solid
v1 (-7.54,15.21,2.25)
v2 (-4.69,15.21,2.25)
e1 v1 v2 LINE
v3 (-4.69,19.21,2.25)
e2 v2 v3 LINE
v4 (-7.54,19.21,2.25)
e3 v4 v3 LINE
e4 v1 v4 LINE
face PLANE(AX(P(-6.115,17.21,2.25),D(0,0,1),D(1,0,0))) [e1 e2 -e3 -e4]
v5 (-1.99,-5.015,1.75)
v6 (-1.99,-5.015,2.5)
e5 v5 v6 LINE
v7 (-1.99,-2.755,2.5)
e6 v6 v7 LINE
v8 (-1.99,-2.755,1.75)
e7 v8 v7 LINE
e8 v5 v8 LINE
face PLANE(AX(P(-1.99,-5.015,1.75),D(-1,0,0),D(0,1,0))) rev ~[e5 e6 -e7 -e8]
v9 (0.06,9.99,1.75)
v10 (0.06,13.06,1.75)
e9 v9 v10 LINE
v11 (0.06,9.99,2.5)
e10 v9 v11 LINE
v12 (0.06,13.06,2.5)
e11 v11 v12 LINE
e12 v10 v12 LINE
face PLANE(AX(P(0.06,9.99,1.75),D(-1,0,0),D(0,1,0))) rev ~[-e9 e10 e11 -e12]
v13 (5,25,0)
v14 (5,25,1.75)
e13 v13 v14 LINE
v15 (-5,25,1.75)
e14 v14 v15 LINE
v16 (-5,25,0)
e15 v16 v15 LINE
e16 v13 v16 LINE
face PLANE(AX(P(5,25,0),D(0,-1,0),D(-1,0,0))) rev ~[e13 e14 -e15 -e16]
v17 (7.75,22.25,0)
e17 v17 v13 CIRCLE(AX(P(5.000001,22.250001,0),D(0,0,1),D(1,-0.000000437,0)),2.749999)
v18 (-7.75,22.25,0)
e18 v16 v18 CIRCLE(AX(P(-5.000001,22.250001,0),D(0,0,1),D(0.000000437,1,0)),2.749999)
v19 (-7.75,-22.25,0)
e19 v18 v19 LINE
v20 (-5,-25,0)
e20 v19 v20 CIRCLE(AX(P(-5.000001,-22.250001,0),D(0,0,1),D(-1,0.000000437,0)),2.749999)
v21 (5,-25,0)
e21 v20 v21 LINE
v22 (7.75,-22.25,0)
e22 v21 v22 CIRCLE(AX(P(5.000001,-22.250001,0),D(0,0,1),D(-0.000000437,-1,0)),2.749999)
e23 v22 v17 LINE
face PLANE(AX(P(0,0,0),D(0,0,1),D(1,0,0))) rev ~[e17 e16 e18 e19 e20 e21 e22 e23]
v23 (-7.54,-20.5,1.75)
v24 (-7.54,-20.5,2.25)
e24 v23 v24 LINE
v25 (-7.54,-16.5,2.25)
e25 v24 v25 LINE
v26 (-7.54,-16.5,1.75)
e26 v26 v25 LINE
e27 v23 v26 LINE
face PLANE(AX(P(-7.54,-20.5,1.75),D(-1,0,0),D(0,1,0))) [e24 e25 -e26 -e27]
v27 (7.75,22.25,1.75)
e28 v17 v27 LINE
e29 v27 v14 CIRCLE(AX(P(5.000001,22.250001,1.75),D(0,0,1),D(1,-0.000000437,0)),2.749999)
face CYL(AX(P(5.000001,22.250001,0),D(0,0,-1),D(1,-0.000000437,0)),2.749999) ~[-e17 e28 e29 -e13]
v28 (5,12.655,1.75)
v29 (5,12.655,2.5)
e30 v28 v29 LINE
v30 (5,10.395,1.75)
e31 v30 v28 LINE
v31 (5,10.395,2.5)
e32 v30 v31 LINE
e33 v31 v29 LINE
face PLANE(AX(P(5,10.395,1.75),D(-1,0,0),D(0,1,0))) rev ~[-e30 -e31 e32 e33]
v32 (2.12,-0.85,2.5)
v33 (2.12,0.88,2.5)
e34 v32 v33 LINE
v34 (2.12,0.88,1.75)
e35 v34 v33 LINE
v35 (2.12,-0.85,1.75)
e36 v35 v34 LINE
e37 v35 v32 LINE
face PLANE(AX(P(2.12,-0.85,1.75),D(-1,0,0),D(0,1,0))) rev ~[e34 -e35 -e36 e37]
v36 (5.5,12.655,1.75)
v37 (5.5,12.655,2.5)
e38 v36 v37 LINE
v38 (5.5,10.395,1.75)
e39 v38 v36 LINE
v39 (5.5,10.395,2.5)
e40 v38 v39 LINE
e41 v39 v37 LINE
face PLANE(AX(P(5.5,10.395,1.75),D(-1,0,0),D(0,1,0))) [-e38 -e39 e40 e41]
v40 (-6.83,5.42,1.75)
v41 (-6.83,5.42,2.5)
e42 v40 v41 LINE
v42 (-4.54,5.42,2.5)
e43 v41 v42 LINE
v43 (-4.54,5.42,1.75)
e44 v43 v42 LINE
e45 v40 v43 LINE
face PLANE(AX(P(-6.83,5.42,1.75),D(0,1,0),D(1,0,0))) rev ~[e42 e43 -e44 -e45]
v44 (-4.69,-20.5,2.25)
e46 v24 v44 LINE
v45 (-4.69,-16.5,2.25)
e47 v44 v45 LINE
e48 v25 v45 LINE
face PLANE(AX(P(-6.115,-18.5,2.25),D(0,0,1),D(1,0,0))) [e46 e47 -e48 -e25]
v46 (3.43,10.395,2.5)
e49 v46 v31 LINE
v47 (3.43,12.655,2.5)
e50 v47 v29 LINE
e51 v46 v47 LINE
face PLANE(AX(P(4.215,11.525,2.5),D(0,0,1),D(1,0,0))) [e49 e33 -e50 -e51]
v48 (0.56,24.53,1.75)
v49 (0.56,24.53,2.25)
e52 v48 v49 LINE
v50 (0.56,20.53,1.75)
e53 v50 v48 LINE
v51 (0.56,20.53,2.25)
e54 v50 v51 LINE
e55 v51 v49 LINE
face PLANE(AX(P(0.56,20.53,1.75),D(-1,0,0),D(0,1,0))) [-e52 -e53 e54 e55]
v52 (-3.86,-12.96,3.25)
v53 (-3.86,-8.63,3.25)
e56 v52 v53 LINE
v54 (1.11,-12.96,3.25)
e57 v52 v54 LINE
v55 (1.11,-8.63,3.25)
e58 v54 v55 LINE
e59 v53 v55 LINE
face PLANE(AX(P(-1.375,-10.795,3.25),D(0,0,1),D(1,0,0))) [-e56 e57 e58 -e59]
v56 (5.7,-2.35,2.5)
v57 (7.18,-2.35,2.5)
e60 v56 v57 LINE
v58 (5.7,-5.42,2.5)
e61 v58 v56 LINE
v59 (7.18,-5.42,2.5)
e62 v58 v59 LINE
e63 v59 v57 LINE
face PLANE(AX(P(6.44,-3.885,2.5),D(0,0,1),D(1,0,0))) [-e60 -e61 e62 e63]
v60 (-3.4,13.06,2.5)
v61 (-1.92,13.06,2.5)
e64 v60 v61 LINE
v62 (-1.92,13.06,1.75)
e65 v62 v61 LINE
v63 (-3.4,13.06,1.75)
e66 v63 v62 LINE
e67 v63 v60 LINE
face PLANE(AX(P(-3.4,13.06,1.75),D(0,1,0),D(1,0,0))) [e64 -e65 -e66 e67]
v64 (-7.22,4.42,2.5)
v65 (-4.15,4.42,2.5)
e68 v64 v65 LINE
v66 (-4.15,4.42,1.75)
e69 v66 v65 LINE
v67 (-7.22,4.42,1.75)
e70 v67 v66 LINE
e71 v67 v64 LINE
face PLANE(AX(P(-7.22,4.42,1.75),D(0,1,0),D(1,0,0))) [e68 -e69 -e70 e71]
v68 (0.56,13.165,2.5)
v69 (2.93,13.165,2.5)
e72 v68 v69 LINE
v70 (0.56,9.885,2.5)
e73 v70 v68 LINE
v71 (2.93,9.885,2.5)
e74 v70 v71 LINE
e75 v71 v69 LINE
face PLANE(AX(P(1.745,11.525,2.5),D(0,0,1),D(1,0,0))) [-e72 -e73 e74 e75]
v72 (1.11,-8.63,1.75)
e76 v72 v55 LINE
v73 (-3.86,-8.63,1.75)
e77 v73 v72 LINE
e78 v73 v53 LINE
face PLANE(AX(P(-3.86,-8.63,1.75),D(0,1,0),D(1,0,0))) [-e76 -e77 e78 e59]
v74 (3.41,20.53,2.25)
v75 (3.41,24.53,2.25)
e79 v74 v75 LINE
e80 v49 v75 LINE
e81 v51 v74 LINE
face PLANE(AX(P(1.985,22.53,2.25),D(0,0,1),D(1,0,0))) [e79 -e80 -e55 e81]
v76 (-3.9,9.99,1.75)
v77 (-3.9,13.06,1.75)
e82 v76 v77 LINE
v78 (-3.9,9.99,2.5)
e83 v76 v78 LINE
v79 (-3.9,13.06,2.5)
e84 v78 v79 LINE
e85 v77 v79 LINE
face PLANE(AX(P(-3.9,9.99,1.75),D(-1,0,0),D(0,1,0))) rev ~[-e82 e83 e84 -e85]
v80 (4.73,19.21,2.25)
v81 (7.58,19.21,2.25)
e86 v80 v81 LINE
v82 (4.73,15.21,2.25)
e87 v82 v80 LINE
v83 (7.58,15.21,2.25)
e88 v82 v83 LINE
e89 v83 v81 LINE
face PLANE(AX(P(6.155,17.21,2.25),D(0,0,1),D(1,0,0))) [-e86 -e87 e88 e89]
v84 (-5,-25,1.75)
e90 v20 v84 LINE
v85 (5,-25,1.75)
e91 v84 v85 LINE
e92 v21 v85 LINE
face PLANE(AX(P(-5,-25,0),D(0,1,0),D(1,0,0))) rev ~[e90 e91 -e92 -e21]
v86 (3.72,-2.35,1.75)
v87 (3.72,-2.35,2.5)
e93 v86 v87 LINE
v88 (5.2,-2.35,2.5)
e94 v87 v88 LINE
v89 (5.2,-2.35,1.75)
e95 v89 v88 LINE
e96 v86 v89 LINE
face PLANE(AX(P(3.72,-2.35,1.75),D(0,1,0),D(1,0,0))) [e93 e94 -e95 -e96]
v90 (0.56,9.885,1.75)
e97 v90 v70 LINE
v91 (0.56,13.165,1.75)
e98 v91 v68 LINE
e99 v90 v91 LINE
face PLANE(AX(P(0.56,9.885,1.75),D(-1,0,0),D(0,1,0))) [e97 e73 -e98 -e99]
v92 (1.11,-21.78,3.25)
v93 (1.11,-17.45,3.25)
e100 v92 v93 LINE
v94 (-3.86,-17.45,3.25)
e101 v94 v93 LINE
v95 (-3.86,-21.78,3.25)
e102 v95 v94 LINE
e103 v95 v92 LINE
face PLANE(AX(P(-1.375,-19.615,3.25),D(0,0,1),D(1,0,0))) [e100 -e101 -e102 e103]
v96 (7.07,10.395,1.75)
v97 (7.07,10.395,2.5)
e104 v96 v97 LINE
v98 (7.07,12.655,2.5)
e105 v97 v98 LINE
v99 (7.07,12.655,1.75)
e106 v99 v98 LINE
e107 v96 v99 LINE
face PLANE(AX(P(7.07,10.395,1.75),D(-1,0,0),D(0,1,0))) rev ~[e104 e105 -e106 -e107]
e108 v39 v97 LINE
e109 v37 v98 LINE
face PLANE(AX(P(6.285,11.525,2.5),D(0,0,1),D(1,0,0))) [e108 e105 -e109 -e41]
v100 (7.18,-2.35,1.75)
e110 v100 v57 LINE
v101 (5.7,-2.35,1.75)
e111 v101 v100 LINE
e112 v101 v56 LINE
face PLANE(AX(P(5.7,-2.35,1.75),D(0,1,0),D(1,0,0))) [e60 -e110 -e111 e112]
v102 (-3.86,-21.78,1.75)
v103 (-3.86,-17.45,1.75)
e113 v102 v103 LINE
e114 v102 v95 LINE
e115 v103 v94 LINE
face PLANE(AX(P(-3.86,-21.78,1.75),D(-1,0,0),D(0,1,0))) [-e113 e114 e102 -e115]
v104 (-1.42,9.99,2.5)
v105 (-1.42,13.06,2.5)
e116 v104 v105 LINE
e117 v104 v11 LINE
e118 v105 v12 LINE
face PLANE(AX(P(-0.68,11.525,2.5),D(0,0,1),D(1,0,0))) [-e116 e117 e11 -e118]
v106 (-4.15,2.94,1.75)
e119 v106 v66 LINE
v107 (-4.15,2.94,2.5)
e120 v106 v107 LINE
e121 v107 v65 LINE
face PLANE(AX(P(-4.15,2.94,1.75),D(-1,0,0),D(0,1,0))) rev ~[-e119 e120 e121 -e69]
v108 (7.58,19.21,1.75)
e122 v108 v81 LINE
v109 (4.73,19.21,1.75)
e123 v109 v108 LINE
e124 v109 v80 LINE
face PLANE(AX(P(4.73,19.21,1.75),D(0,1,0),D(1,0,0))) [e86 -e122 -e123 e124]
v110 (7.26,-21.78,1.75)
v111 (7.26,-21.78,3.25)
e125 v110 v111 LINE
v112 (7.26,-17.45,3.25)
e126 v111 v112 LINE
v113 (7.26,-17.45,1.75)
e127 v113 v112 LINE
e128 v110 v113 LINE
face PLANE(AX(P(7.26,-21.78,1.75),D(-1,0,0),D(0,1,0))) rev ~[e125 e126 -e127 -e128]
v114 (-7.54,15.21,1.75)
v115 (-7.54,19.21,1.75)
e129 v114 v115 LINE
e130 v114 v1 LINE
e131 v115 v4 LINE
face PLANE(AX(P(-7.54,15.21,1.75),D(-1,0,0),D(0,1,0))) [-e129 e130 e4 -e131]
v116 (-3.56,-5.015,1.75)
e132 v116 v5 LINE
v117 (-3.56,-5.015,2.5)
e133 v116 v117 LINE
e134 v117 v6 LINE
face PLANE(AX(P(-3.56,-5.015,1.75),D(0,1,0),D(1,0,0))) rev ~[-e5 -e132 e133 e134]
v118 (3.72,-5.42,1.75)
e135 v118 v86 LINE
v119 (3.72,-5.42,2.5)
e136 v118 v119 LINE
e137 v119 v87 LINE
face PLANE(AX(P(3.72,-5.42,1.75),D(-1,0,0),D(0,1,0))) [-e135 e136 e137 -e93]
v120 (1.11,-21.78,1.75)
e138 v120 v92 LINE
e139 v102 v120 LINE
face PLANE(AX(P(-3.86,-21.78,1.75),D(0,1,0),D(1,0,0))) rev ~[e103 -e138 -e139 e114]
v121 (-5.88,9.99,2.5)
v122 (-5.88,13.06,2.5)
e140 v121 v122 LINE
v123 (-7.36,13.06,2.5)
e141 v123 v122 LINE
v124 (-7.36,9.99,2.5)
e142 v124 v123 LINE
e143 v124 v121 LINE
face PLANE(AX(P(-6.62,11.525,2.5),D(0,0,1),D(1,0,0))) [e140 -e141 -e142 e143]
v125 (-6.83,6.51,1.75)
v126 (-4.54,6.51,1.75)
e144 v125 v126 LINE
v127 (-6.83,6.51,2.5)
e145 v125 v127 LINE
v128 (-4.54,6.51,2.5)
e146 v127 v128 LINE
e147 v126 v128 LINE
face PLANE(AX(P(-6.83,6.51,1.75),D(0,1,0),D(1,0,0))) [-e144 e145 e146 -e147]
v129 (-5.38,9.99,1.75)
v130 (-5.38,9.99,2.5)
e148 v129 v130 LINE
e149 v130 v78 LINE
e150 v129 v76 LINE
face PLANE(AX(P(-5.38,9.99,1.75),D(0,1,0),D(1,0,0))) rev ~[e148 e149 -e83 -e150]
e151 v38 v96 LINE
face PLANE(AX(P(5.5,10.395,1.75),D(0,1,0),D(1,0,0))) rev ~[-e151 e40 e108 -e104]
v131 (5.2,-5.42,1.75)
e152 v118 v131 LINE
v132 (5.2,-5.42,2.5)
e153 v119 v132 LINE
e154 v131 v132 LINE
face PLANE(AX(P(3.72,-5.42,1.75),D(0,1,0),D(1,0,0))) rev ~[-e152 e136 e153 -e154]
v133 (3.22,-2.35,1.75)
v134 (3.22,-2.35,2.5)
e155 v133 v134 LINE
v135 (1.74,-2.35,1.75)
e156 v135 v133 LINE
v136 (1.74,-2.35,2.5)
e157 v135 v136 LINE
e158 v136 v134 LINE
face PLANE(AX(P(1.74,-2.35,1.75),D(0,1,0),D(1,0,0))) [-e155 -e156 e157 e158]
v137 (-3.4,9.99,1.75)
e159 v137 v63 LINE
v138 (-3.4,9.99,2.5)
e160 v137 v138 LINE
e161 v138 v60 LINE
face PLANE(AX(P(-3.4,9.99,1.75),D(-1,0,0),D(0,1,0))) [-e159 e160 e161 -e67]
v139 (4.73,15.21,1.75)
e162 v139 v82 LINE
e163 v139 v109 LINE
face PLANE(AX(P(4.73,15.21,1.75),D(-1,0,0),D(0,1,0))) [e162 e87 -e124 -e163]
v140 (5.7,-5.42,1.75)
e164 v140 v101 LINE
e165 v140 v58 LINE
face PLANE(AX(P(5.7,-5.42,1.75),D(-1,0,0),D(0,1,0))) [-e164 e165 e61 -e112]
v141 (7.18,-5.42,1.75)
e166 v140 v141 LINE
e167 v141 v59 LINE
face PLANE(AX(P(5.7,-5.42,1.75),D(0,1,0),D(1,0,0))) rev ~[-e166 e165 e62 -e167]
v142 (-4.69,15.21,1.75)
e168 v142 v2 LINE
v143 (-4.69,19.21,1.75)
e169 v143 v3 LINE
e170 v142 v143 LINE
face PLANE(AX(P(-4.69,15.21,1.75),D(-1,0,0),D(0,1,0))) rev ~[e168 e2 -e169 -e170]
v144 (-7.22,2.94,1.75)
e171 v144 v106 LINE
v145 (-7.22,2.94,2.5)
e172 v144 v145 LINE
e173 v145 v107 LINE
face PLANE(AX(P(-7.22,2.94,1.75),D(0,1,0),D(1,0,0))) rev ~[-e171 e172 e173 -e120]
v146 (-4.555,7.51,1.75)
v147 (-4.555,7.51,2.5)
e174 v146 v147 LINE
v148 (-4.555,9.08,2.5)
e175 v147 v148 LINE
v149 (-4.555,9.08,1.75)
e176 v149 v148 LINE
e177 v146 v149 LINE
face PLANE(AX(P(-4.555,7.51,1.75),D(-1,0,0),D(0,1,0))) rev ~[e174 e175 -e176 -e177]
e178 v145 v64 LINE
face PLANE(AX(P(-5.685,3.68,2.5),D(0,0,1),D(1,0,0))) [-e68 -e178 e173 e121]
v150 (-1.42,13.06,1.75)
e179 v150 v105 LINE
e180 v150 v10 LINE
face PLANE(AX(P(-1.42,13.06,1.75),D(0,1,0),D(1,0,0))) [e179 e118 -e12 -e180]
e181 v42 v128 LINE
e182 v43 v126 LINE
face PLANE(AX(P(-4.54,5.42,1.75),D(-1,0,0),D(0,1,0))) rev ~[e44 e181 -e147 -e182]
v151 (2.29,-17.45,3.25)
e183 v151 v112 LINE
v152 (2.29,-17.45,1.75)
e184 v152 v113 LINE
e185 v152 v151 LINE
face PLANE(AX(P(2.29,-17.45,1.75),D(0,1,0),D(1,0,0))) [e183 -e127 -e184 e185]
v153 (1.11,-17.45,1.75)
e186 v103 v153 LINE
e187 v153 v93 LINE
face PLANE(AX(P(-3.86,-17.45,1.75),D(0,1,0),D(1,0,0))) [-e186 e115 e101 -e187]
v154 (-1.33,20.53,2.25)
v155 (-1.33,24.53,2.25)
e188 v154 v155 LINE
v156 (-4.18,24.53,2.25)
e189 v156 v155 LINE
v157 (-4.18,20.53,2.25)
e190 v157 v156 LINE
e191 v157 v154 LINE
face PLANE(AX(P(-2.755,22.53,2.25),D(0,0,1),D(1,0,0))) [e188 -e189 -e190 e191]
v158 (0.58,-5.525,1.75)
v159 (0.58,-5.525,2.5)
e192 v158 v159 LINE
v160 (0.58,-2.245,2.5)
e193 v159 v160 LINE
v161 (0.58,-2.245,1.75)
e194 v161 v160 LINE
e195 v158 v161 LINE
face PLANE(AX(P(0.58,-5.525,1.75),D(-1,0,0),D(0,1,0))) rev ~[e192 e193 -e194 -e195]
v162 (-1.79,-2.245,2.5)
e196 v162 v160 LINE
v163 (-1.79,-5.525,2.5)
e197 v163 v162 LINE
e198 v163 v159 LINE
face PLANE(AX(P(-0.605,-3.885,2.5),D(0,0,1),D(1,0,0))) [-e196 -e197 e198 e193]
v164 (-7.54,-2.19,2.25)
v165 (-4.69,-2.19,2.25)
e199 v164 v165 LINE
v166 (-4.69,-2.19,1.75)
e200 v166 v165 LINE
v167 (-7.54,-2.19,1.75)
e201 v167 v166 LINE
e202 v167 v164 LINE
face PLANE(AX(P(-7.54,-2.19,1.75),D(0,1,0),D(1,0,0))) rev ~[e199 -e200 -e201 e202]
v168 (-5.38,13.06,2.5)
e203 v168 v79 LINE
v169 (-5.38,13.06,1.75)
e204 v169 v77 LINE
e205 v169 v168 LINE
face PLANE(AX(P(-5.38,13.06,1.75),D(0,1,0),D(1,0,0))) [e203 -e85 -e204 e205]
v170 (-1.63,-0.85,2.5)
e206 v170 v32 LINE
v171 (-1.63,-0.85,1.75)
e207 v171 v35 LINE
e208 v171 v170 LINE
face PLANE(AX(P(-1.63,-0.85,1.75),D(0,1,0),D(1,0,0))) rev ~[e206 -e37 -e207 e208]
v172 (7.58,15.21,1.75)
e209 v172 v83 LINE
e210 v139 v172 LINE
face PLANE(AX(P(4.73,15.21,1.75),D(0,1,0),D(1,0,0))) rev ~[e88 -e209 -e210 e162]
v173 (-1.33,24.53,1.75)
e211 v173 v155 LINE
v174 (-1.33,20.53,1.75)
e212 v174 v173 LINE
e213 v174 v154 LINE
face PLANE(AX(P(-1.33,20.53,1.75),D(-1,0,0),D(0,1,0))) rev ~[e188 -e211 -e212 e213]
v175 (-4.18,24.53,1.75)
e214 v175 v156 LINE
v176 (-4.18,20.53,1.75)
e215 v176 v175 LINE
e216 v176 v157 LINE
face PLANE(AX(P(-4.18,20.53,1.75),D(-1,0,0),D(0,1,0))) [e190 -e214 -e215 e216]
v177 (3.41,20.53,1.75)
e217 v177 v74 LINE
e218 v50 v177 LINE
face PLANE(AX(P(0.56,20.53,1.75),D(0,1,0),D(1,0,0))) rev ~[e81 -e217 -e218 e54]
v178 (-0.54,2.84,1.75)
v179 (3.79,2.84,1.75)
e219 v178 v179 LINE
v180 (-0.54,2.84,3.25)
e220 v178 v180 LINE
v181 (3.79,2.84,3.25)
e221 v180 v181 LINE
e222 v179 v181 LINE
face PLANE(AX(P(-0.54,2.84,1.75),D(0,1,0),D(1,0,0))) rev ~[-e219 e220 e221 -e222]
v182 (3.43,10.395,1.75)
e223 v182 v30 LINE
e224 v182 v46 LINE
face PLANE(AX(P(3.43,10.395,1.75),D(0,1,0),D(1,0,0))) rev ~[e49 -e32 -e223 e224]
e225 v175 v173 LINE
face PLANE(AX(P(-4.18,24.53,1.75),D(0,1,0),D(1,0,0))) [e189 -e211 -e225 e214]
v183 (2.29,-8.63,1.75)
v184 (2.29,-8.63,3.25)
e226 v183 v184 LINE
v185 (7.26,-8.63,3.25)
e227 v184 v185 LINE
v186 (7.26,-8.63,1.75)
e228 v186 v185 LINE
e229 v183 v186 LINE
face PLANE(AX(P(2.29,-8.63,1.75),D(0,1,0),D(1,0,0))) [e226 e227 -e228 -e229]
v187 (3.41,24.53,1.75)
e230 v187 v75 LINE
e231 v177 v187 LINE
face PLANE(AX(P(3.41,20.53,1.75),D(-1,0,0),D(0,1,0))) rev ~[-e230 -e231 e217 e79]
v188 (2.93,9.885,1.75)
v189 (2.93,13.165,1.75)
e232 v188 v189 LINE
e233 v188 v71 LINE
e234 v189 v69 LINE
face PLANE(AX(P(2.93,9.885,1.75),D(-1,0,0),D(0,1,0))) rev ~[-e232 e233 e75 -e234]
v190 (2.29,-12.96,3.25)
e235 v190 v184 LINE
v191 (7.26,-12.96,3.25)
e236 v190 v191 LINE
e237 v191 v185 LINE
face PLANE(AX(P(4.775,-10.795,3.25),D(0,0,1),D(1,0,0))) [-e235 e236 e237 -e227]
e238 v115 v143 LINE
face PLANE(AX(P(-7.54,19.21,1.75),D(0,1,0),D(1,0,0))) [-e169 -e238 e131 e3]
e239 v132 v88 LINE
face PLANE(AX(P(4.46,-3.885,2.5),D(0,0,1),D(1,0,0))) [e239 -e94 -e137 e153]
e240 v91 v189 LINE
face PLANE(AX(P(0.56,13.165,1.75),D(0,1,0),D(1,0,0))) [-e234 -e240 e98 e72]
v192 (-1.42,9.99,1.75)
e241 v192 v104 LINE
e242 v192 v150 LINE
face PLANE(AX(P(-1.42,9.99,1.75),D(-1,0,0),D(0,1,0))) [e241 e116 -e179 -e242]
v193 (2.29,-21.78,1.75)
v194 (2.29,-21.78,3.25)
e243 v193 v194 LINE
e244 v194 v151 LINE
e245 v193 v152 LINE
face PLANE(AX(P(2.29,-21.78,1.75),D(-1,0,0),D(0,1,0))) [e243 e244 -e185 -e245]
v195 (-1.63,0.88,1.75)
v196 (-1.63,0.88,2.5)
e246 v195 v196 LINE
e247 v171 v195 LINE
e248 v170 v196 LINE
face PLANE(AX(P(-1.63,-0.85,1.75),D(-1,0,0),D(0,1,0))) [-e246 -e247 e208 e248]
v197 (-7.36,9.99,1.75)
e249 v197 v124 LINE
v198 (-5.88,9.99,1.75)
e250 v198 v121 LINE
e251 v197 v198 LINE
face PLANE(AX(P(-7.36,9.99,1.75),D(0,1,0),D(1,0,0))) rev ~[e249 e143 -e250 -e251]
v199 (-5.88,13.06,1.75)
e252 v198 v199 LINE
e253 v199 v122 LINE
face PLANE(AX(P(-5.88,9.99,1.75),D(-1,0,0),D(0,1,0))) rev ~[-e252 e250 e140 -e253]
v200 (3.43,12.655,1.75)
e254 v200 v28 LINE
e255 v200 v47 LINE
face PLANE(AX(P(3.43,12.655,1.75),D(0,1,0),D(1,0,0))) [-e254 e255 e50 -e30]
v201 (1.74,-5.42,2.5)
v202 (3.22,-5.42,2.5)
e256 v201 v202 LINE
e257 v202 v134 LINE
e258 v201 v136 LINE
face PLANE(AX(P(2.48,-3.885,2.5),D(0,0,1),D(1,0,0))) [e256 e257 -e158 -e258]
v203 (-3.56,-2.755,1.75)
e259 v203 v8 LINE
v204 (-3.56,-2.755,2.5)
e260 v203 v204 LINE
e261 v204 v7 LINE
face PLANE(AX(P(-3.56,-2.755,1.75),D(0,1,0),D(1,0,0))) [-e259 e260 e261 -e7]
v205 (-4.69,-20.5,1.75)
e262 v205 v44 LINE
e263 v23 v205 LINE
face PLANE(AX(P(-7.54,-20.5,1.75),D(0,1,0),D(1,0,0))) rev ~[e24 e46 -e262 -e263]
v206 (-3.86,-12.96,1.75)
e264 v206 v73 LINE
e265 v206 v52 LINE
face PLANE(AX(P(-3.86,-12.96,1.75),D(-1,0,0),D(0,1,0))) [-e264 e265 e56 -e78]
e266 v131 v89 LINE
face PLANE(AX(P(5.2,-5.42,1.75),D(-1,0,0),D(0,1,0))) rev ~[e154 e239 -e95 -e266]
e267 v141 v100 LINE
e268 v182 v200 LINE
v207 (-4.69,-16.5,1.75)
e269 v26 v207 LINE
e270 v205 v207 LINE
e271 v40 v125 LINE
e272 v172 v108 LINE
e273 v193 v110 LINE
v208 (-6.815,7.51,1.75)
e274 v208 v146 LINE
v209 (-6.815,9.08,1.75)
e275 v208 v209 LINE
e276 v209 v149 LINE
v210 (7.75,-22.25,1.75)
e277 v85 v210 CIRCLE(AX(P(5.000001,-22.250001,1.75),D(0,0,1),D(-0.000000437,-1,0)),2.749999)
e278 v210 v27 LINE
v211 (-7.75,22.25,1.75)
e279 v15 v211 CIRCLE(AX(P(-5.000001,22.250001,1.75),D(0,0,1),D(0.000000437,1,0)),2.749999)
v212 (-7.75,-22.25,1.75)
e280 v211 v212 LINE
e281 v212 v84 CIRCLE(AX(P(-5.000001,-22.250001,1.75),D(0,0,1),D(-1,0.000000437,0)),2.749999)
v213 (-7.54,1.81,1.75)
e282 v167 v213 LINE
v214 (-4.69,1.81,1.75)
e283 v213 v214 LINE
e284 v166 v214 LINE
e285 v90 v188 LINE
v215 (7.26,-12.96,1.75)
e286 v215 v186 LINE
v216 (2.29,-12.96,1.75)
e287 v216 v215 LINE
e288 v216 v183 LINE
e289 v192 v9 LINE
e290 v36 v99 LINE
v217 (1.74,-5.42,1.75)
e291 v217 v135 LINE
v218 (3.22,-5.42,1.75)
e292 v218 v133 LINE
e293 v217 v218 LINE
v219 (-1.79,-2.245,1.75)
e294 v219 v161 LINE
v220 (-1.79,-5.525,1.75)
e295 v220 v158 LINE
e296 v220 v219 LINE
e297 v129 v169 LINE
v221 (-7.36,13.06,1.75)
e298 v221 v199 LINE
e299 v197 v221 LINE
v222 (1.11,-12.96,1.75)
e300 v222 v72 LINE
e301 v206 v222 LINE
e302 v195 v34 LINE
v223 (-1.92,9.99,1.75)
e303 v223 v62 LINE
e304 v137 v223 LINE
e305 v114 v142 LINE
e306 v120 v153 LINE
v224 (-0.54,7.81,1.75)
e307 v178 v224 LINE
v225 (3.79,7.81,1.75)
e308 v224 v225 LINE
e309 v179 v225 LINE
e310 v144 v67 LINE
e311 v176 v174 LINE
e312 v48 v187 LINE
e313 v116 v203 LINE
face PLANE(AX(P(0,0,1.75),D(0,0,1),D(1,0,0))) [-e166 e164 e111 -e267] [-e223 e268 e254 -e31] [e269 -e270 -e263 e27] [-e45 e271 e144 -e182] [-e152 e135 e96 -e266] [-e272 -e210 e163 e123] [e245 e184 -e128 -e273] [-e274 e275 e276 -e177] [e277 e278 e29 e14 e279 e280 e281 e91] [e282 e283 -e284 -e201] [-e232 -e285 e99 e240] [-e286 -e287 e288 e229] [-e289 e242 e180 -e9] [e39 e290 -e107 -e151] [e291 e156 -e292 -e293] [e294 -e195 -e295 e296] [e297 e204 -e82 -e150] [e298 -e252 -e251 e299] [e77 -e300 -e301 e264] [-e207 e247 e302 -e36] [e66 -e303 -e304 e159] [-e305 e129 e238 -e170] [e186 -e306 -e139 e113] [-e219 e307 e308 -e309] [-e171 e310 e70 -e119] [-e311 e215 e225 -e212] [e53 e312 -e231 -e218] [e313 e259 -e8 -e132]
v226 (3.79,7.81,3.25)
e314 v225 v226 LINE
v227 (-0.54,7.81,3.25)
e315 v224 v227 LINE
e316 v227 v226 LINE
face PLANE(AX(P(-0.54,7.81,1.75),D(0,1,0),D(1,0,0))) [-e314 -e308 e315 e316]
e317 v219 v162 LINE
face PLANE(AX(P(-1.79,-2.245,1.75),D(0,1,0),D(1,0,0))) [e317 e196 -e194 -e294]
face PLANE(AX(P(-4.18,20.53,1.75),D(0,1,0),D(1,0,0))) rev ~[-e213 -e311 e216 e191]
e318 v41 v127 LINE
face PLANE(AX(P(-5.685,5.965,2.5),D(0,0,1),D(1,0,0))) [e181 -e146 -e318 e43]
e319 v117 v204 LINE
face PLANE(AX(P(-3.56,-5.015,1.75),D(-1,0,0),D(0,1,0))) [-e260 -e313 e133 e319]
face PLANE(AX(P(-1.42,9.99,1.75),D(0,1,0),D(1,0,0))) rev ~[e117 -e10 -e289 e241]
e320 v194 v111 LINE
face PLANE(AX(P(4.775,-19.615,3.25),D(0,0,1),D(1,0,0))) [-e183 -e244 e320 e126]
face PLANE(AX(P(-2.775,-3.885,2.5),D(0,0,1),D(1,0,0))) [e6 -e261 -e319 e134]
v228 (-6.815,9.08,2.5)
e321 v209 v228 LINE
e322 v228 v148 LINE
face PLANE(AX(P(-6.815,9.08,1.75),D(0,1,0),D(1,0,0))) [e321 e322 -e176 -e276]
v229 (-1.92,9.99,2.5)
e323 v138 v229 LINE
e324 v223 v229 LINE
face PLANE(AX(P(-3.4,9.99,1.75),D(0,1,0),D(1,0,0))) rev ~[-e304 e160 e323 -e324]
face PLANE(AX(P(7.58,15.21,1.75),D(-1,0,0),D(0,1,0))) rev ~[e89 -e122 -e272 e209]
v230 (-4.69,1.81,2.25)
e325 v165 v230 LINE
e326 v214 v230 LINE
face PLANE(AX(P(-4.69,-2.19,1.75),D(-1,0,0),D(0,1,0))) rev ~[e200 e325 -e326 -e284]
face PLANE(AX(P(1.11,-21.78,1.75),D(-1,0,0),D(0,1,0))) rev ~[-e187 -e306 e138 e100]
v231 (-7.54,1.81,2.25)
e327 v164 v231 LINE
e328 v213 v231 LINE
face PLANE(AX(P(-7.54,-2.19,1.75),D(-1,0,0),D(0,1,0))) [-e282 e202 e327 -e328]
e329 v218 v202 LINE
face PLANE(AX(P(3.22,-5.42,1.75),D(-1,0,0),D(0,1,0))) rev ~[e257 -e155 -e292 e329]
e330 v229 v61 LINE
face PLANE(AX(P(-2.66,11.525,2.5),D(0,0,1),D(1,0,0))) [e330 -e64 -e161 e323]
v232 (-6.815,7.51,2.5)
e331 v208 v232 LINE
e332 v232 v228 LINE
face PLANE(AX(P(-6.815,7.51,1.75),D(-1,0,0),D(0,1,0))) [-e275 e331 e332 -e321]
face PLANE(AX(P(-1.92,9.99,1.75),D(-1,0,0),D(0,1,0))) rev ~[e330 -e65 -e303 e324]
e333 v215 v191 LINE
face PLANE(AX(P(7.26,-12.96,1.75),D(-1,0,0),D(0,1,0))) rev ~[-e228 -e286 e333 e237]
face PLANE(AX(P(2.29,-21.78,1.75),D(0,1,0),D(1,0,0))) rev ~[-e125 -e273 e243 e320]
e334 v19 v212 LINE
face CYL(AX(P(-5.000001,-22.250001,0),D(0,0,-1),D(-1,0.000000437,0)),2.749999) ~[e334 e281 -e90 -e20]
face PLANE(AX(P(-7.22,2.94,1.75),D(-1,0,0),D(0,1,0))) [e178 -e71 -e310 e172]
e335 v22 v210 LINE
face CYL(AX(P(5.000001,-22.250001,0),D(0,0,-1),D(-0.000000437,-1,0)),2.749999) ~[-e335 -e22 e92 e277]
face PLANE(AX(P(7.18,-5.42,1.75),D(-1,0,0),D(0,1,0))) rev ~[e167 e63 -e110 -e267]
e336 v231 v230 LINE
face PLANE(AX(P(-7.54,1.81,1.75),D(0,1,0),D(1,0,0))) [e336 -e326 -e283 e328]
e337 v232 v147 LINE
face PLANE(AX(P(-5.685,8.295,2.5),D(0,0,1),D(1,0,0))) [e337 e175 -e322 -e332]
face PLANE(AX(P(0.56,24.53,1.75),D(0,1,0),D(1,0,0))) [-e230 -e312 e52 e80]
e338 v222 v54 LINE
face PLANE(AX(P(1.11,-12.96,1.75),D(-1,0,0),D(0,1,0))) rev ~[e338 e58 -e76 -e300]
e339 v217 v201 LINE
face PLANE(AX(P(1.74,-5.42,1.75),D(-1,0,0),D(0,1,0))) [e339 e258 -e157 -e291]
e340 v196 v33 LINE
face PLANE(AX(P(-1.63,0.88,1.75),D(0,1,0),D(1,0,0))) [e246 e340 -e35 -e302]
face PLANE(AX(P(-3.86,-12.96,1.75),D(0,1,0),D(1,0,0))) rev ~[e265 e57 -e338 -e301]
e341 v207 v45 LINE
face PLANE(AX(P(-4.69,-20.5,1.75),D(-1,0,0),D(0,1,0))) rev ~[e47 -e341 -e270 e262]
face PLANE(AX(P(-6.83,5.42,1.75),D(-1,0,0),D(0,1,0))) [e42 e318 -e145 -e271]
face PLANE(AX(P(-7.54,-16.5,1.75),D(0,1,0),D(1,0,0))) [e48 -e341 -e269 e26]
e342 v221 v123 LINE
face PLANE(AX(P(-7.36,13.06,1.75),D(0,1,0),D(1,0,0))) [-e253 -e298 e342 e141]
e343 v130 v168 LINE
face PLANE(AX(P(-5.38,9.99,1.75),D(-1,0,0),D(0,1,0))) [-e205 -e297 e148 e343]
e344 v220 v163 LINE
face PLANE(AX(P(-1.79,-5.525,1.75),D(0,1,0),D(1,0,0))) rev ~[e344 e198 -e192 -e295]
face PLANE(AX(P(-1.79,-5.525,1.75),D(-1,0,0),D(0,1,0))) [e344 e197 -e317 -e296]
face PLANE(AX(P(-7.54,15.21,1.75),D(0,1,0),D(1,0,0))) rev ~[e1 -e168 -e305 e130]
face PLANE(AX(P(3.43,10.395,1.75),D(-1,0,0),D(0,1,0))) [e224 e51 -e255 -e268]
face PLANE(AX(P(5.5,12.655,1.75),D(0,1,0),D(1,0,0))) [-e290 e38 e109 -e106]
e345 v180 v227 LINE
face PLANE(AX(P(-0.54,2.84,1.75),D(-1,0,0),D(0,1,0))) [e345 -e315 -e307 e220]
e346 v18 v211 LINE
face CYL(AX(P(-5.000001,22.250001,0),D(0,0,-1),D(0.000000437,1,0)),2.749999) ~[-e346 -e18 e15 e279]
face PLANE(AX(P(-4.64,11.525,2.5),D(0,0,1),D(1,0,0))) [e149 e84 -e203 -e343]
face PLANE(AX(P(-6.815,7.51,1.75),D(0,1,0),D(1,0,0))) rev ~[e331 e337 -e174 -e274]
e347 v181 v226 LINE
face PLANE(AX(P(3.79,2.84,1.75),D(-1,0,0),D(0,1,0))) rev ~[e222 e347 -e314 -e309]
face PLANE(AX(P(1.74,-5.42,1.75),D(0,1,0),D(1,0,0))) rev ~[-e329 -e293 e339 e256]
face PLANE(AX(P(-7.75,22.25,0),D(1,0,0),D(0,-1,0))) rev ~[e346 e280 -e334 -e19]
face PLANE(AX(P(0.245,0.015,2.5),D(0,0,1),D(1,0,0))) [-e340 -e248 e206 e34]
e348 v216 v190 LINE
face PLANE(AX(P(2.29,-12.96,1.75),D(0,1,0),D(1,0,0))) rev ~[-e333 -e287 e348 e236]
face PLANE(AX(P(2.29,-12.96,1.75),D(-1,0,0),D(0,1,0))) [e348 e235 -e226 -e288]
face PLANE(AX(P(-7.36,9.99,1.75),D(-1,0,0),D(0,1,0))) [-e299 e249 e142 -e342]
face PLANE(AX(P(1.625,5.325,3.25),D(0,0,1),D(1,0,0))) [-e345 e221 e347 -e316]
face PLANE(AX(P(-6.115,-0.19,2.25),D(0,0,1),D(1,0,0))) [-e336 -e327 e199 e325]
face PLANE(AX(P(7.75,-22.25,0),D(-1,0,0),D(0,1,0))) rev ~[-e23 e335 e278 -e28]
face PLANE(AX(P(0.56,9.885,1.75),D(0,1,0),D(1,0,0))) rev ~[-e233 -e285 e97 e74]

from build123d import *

# Parameters (mm, degrees)
PAD_DEPTH     = 1.75
SKETCH001_W   = 2.85
SKETCH001_H   = 4
PAD001_DEPTH  = 0.5
SKETCH002_W   = 4.33
SKETCH002_H   = 4.97
SKETCH002_W_2 = 4.97
SKETCH002_H_2 = 4.33
PAD002_DEPTH  = 1.5
SKETCH003_W   = 1.57
SKETCH003_H   = 2.26
SKETCH003_W_2 = 2.37
SKETCH003_H_2 = 3.28
SKETCH003_W_3 = 1.48
SKETCH003_H_3 = 3.07
SKETCH003_W_4 = 2.29
SKETCH003_H_4 = 1.09
SKETCH003_W_5 = 2.26
SKETCH003_H_5 = 1.57
SKETCH003_W_6 = 3.07
SKETCH003_H_6 = 1.48
SKETCH003_W_7 = 3.75
SKETCH003_H_7 = 1.73
PAD003_DEPTH  = 0.75


with BuildPart() as part:
    # Sketch → Pad (new body)
    with BuildSketch(Plane.XY):
        with BuildLine():
            Line((-7.75, 22.25), (-7.75, -22.25))
            ThreePointArc((-7.75, -22.25), (-6.944544, -24.194544), (-5, -25))
            Line((-5, -25), (5, -25))
            ThreePointArc((5, -25), (6.944544, -24.194544), (7.75, -22.25))
            Line((7.75, -22.25), (7.75, 22.25))
            ThreePointArc((7.75, 22.25), (6.944544, 24.194544), (5, 25))
            Line((5, 25), (-5, 25))
            ThreePointArc((-5, 25), (-6.944544, 24.194544), (-7.75, 22.25))
        make_face()
    extrude(amount=PAD_DEPTH)

    # Sketch001 (on Face10 of Pad) → Pad001 (join)
    with BuildSketch(Plane.XY.offset(1.75)):
        with Locations((-6.115, 17.21)):
            Rectangle(SKETCH001_W, SKETCH001_H)
        with Locations((-2.755, 22.53)):
            Rectangle(SKETCH001_W, SKETCH001_H)
        with Locations((1.985, 22.53)):
            Rectangle(SKETCH001_W, SKETCH001_H)
        with Locations((6.155, 17.21)):
            Rectangle(SKETCH001_W, SKETCH001_H)
        with Locations((-6.115, -0.19)):
            Rectangle(SKETCH001_W, SKETCH001_H)
        with Locations((-6.115, -18.5)):
            Rectangle(SKETCH001_W, SKETCH001_H)
    extrude(amount=PAD001_DEPTH)

    # Sketch002 (on Face5 of Pad001) → Pad002 (join)
    with BuildSketch(Plane.XY.offset(1.75)):
        with Locations((1.625, 5.325)):
            Rectangle(SKETCH002_W, SKETCH002_H)
        with Locations((-1.375, -10.795)):
            Rectangle(SKETCH002_W_2, SKETCH002_H_2)
        with Locations((4.775, -10.795)):
            Rectangle(SKETCH002_W_2, SKETCH002_H_2)
        with Locations((-1.375, -19.615)):
            Rectangle(SKETCH002_W_2, SKETCH002_H_2)
        with Locations((4.775, -19.615)):
            Rectangle(SKETCH002_W_2, SKETCH002_H_2)
    extrude(amount=PAD002_DEPTH)

    # Sketch003 (on Face5 of Pad002) → Pad003 (join)
    with BuildSketch(Plane.XY.offset(1.75)):
        with Locations((-2.775, -3.885)):
            Rectangle(SKETCH003_W, SKETCH003_H)
        with Locations((-0.605, -3.885)):
            Rectangle(SKETCH003_W_2, SKETCH003_H_2)
        with Locations((2.48, -3.885)):
            Rectangle(SKETCH003_W_3, SKETCH003_H_3)
        with Locations((4.46, -3.885)):
            Rectangle(SKETCH003_W_3, SKETCH003_H_3)
        with Locations((6.44, -3.885)):
            Rectangle(SKETCH003_W_3, SKETCH003_H_3)
        with Locations((-5.685, 5.965)):
            Rectangle(SKETCH003_W_4, SKETCH003_H_4)
        with Locations((-5.685, 8.295)):
            Rectangle(SKETCH003_W_5, SKETCH003_H_5)
        with Locations((-5.685, 3.68)):
            Rectangle(SKETCH003_W_6, SKETCH003_H_6)
        with Locations((-6.62, 11.525)):
            Rectangle(SKETCH003_W_3, SKETCH003_H_3)
        with Locations((-4.64, 11.525)):
            Rectangle(SKETCH003_W_3, SKETCH003_H_3)
        with Locations((-2.66, 11.525)):
            Rectangle(SKETCH003_W_3, SKETCH003_H_3)
        with Locations((-0.68, 11.525)):
            Rectangle(SKETCH003_W_3, SKETCH003_H_3)
        with Locations((1.745, 11.525)):
            Rectangle(SKETCH003_W_2, SKETCH003_H_2)
        with Locations((4.215, 11.525)):
            Rectangle(SKETCH003_W, SKETCH003_H)
        with Locations((6.285, 11.525)):
            Rectangle(SKETCH003_W, SKETCH003_H)
        with Locations((0.245, 0.015)):
            Rectangle(SKETCH003_W_7, SKETCH003_H_7)
    extrude(amount=PAD003_DEPTH)


solid = part.part
